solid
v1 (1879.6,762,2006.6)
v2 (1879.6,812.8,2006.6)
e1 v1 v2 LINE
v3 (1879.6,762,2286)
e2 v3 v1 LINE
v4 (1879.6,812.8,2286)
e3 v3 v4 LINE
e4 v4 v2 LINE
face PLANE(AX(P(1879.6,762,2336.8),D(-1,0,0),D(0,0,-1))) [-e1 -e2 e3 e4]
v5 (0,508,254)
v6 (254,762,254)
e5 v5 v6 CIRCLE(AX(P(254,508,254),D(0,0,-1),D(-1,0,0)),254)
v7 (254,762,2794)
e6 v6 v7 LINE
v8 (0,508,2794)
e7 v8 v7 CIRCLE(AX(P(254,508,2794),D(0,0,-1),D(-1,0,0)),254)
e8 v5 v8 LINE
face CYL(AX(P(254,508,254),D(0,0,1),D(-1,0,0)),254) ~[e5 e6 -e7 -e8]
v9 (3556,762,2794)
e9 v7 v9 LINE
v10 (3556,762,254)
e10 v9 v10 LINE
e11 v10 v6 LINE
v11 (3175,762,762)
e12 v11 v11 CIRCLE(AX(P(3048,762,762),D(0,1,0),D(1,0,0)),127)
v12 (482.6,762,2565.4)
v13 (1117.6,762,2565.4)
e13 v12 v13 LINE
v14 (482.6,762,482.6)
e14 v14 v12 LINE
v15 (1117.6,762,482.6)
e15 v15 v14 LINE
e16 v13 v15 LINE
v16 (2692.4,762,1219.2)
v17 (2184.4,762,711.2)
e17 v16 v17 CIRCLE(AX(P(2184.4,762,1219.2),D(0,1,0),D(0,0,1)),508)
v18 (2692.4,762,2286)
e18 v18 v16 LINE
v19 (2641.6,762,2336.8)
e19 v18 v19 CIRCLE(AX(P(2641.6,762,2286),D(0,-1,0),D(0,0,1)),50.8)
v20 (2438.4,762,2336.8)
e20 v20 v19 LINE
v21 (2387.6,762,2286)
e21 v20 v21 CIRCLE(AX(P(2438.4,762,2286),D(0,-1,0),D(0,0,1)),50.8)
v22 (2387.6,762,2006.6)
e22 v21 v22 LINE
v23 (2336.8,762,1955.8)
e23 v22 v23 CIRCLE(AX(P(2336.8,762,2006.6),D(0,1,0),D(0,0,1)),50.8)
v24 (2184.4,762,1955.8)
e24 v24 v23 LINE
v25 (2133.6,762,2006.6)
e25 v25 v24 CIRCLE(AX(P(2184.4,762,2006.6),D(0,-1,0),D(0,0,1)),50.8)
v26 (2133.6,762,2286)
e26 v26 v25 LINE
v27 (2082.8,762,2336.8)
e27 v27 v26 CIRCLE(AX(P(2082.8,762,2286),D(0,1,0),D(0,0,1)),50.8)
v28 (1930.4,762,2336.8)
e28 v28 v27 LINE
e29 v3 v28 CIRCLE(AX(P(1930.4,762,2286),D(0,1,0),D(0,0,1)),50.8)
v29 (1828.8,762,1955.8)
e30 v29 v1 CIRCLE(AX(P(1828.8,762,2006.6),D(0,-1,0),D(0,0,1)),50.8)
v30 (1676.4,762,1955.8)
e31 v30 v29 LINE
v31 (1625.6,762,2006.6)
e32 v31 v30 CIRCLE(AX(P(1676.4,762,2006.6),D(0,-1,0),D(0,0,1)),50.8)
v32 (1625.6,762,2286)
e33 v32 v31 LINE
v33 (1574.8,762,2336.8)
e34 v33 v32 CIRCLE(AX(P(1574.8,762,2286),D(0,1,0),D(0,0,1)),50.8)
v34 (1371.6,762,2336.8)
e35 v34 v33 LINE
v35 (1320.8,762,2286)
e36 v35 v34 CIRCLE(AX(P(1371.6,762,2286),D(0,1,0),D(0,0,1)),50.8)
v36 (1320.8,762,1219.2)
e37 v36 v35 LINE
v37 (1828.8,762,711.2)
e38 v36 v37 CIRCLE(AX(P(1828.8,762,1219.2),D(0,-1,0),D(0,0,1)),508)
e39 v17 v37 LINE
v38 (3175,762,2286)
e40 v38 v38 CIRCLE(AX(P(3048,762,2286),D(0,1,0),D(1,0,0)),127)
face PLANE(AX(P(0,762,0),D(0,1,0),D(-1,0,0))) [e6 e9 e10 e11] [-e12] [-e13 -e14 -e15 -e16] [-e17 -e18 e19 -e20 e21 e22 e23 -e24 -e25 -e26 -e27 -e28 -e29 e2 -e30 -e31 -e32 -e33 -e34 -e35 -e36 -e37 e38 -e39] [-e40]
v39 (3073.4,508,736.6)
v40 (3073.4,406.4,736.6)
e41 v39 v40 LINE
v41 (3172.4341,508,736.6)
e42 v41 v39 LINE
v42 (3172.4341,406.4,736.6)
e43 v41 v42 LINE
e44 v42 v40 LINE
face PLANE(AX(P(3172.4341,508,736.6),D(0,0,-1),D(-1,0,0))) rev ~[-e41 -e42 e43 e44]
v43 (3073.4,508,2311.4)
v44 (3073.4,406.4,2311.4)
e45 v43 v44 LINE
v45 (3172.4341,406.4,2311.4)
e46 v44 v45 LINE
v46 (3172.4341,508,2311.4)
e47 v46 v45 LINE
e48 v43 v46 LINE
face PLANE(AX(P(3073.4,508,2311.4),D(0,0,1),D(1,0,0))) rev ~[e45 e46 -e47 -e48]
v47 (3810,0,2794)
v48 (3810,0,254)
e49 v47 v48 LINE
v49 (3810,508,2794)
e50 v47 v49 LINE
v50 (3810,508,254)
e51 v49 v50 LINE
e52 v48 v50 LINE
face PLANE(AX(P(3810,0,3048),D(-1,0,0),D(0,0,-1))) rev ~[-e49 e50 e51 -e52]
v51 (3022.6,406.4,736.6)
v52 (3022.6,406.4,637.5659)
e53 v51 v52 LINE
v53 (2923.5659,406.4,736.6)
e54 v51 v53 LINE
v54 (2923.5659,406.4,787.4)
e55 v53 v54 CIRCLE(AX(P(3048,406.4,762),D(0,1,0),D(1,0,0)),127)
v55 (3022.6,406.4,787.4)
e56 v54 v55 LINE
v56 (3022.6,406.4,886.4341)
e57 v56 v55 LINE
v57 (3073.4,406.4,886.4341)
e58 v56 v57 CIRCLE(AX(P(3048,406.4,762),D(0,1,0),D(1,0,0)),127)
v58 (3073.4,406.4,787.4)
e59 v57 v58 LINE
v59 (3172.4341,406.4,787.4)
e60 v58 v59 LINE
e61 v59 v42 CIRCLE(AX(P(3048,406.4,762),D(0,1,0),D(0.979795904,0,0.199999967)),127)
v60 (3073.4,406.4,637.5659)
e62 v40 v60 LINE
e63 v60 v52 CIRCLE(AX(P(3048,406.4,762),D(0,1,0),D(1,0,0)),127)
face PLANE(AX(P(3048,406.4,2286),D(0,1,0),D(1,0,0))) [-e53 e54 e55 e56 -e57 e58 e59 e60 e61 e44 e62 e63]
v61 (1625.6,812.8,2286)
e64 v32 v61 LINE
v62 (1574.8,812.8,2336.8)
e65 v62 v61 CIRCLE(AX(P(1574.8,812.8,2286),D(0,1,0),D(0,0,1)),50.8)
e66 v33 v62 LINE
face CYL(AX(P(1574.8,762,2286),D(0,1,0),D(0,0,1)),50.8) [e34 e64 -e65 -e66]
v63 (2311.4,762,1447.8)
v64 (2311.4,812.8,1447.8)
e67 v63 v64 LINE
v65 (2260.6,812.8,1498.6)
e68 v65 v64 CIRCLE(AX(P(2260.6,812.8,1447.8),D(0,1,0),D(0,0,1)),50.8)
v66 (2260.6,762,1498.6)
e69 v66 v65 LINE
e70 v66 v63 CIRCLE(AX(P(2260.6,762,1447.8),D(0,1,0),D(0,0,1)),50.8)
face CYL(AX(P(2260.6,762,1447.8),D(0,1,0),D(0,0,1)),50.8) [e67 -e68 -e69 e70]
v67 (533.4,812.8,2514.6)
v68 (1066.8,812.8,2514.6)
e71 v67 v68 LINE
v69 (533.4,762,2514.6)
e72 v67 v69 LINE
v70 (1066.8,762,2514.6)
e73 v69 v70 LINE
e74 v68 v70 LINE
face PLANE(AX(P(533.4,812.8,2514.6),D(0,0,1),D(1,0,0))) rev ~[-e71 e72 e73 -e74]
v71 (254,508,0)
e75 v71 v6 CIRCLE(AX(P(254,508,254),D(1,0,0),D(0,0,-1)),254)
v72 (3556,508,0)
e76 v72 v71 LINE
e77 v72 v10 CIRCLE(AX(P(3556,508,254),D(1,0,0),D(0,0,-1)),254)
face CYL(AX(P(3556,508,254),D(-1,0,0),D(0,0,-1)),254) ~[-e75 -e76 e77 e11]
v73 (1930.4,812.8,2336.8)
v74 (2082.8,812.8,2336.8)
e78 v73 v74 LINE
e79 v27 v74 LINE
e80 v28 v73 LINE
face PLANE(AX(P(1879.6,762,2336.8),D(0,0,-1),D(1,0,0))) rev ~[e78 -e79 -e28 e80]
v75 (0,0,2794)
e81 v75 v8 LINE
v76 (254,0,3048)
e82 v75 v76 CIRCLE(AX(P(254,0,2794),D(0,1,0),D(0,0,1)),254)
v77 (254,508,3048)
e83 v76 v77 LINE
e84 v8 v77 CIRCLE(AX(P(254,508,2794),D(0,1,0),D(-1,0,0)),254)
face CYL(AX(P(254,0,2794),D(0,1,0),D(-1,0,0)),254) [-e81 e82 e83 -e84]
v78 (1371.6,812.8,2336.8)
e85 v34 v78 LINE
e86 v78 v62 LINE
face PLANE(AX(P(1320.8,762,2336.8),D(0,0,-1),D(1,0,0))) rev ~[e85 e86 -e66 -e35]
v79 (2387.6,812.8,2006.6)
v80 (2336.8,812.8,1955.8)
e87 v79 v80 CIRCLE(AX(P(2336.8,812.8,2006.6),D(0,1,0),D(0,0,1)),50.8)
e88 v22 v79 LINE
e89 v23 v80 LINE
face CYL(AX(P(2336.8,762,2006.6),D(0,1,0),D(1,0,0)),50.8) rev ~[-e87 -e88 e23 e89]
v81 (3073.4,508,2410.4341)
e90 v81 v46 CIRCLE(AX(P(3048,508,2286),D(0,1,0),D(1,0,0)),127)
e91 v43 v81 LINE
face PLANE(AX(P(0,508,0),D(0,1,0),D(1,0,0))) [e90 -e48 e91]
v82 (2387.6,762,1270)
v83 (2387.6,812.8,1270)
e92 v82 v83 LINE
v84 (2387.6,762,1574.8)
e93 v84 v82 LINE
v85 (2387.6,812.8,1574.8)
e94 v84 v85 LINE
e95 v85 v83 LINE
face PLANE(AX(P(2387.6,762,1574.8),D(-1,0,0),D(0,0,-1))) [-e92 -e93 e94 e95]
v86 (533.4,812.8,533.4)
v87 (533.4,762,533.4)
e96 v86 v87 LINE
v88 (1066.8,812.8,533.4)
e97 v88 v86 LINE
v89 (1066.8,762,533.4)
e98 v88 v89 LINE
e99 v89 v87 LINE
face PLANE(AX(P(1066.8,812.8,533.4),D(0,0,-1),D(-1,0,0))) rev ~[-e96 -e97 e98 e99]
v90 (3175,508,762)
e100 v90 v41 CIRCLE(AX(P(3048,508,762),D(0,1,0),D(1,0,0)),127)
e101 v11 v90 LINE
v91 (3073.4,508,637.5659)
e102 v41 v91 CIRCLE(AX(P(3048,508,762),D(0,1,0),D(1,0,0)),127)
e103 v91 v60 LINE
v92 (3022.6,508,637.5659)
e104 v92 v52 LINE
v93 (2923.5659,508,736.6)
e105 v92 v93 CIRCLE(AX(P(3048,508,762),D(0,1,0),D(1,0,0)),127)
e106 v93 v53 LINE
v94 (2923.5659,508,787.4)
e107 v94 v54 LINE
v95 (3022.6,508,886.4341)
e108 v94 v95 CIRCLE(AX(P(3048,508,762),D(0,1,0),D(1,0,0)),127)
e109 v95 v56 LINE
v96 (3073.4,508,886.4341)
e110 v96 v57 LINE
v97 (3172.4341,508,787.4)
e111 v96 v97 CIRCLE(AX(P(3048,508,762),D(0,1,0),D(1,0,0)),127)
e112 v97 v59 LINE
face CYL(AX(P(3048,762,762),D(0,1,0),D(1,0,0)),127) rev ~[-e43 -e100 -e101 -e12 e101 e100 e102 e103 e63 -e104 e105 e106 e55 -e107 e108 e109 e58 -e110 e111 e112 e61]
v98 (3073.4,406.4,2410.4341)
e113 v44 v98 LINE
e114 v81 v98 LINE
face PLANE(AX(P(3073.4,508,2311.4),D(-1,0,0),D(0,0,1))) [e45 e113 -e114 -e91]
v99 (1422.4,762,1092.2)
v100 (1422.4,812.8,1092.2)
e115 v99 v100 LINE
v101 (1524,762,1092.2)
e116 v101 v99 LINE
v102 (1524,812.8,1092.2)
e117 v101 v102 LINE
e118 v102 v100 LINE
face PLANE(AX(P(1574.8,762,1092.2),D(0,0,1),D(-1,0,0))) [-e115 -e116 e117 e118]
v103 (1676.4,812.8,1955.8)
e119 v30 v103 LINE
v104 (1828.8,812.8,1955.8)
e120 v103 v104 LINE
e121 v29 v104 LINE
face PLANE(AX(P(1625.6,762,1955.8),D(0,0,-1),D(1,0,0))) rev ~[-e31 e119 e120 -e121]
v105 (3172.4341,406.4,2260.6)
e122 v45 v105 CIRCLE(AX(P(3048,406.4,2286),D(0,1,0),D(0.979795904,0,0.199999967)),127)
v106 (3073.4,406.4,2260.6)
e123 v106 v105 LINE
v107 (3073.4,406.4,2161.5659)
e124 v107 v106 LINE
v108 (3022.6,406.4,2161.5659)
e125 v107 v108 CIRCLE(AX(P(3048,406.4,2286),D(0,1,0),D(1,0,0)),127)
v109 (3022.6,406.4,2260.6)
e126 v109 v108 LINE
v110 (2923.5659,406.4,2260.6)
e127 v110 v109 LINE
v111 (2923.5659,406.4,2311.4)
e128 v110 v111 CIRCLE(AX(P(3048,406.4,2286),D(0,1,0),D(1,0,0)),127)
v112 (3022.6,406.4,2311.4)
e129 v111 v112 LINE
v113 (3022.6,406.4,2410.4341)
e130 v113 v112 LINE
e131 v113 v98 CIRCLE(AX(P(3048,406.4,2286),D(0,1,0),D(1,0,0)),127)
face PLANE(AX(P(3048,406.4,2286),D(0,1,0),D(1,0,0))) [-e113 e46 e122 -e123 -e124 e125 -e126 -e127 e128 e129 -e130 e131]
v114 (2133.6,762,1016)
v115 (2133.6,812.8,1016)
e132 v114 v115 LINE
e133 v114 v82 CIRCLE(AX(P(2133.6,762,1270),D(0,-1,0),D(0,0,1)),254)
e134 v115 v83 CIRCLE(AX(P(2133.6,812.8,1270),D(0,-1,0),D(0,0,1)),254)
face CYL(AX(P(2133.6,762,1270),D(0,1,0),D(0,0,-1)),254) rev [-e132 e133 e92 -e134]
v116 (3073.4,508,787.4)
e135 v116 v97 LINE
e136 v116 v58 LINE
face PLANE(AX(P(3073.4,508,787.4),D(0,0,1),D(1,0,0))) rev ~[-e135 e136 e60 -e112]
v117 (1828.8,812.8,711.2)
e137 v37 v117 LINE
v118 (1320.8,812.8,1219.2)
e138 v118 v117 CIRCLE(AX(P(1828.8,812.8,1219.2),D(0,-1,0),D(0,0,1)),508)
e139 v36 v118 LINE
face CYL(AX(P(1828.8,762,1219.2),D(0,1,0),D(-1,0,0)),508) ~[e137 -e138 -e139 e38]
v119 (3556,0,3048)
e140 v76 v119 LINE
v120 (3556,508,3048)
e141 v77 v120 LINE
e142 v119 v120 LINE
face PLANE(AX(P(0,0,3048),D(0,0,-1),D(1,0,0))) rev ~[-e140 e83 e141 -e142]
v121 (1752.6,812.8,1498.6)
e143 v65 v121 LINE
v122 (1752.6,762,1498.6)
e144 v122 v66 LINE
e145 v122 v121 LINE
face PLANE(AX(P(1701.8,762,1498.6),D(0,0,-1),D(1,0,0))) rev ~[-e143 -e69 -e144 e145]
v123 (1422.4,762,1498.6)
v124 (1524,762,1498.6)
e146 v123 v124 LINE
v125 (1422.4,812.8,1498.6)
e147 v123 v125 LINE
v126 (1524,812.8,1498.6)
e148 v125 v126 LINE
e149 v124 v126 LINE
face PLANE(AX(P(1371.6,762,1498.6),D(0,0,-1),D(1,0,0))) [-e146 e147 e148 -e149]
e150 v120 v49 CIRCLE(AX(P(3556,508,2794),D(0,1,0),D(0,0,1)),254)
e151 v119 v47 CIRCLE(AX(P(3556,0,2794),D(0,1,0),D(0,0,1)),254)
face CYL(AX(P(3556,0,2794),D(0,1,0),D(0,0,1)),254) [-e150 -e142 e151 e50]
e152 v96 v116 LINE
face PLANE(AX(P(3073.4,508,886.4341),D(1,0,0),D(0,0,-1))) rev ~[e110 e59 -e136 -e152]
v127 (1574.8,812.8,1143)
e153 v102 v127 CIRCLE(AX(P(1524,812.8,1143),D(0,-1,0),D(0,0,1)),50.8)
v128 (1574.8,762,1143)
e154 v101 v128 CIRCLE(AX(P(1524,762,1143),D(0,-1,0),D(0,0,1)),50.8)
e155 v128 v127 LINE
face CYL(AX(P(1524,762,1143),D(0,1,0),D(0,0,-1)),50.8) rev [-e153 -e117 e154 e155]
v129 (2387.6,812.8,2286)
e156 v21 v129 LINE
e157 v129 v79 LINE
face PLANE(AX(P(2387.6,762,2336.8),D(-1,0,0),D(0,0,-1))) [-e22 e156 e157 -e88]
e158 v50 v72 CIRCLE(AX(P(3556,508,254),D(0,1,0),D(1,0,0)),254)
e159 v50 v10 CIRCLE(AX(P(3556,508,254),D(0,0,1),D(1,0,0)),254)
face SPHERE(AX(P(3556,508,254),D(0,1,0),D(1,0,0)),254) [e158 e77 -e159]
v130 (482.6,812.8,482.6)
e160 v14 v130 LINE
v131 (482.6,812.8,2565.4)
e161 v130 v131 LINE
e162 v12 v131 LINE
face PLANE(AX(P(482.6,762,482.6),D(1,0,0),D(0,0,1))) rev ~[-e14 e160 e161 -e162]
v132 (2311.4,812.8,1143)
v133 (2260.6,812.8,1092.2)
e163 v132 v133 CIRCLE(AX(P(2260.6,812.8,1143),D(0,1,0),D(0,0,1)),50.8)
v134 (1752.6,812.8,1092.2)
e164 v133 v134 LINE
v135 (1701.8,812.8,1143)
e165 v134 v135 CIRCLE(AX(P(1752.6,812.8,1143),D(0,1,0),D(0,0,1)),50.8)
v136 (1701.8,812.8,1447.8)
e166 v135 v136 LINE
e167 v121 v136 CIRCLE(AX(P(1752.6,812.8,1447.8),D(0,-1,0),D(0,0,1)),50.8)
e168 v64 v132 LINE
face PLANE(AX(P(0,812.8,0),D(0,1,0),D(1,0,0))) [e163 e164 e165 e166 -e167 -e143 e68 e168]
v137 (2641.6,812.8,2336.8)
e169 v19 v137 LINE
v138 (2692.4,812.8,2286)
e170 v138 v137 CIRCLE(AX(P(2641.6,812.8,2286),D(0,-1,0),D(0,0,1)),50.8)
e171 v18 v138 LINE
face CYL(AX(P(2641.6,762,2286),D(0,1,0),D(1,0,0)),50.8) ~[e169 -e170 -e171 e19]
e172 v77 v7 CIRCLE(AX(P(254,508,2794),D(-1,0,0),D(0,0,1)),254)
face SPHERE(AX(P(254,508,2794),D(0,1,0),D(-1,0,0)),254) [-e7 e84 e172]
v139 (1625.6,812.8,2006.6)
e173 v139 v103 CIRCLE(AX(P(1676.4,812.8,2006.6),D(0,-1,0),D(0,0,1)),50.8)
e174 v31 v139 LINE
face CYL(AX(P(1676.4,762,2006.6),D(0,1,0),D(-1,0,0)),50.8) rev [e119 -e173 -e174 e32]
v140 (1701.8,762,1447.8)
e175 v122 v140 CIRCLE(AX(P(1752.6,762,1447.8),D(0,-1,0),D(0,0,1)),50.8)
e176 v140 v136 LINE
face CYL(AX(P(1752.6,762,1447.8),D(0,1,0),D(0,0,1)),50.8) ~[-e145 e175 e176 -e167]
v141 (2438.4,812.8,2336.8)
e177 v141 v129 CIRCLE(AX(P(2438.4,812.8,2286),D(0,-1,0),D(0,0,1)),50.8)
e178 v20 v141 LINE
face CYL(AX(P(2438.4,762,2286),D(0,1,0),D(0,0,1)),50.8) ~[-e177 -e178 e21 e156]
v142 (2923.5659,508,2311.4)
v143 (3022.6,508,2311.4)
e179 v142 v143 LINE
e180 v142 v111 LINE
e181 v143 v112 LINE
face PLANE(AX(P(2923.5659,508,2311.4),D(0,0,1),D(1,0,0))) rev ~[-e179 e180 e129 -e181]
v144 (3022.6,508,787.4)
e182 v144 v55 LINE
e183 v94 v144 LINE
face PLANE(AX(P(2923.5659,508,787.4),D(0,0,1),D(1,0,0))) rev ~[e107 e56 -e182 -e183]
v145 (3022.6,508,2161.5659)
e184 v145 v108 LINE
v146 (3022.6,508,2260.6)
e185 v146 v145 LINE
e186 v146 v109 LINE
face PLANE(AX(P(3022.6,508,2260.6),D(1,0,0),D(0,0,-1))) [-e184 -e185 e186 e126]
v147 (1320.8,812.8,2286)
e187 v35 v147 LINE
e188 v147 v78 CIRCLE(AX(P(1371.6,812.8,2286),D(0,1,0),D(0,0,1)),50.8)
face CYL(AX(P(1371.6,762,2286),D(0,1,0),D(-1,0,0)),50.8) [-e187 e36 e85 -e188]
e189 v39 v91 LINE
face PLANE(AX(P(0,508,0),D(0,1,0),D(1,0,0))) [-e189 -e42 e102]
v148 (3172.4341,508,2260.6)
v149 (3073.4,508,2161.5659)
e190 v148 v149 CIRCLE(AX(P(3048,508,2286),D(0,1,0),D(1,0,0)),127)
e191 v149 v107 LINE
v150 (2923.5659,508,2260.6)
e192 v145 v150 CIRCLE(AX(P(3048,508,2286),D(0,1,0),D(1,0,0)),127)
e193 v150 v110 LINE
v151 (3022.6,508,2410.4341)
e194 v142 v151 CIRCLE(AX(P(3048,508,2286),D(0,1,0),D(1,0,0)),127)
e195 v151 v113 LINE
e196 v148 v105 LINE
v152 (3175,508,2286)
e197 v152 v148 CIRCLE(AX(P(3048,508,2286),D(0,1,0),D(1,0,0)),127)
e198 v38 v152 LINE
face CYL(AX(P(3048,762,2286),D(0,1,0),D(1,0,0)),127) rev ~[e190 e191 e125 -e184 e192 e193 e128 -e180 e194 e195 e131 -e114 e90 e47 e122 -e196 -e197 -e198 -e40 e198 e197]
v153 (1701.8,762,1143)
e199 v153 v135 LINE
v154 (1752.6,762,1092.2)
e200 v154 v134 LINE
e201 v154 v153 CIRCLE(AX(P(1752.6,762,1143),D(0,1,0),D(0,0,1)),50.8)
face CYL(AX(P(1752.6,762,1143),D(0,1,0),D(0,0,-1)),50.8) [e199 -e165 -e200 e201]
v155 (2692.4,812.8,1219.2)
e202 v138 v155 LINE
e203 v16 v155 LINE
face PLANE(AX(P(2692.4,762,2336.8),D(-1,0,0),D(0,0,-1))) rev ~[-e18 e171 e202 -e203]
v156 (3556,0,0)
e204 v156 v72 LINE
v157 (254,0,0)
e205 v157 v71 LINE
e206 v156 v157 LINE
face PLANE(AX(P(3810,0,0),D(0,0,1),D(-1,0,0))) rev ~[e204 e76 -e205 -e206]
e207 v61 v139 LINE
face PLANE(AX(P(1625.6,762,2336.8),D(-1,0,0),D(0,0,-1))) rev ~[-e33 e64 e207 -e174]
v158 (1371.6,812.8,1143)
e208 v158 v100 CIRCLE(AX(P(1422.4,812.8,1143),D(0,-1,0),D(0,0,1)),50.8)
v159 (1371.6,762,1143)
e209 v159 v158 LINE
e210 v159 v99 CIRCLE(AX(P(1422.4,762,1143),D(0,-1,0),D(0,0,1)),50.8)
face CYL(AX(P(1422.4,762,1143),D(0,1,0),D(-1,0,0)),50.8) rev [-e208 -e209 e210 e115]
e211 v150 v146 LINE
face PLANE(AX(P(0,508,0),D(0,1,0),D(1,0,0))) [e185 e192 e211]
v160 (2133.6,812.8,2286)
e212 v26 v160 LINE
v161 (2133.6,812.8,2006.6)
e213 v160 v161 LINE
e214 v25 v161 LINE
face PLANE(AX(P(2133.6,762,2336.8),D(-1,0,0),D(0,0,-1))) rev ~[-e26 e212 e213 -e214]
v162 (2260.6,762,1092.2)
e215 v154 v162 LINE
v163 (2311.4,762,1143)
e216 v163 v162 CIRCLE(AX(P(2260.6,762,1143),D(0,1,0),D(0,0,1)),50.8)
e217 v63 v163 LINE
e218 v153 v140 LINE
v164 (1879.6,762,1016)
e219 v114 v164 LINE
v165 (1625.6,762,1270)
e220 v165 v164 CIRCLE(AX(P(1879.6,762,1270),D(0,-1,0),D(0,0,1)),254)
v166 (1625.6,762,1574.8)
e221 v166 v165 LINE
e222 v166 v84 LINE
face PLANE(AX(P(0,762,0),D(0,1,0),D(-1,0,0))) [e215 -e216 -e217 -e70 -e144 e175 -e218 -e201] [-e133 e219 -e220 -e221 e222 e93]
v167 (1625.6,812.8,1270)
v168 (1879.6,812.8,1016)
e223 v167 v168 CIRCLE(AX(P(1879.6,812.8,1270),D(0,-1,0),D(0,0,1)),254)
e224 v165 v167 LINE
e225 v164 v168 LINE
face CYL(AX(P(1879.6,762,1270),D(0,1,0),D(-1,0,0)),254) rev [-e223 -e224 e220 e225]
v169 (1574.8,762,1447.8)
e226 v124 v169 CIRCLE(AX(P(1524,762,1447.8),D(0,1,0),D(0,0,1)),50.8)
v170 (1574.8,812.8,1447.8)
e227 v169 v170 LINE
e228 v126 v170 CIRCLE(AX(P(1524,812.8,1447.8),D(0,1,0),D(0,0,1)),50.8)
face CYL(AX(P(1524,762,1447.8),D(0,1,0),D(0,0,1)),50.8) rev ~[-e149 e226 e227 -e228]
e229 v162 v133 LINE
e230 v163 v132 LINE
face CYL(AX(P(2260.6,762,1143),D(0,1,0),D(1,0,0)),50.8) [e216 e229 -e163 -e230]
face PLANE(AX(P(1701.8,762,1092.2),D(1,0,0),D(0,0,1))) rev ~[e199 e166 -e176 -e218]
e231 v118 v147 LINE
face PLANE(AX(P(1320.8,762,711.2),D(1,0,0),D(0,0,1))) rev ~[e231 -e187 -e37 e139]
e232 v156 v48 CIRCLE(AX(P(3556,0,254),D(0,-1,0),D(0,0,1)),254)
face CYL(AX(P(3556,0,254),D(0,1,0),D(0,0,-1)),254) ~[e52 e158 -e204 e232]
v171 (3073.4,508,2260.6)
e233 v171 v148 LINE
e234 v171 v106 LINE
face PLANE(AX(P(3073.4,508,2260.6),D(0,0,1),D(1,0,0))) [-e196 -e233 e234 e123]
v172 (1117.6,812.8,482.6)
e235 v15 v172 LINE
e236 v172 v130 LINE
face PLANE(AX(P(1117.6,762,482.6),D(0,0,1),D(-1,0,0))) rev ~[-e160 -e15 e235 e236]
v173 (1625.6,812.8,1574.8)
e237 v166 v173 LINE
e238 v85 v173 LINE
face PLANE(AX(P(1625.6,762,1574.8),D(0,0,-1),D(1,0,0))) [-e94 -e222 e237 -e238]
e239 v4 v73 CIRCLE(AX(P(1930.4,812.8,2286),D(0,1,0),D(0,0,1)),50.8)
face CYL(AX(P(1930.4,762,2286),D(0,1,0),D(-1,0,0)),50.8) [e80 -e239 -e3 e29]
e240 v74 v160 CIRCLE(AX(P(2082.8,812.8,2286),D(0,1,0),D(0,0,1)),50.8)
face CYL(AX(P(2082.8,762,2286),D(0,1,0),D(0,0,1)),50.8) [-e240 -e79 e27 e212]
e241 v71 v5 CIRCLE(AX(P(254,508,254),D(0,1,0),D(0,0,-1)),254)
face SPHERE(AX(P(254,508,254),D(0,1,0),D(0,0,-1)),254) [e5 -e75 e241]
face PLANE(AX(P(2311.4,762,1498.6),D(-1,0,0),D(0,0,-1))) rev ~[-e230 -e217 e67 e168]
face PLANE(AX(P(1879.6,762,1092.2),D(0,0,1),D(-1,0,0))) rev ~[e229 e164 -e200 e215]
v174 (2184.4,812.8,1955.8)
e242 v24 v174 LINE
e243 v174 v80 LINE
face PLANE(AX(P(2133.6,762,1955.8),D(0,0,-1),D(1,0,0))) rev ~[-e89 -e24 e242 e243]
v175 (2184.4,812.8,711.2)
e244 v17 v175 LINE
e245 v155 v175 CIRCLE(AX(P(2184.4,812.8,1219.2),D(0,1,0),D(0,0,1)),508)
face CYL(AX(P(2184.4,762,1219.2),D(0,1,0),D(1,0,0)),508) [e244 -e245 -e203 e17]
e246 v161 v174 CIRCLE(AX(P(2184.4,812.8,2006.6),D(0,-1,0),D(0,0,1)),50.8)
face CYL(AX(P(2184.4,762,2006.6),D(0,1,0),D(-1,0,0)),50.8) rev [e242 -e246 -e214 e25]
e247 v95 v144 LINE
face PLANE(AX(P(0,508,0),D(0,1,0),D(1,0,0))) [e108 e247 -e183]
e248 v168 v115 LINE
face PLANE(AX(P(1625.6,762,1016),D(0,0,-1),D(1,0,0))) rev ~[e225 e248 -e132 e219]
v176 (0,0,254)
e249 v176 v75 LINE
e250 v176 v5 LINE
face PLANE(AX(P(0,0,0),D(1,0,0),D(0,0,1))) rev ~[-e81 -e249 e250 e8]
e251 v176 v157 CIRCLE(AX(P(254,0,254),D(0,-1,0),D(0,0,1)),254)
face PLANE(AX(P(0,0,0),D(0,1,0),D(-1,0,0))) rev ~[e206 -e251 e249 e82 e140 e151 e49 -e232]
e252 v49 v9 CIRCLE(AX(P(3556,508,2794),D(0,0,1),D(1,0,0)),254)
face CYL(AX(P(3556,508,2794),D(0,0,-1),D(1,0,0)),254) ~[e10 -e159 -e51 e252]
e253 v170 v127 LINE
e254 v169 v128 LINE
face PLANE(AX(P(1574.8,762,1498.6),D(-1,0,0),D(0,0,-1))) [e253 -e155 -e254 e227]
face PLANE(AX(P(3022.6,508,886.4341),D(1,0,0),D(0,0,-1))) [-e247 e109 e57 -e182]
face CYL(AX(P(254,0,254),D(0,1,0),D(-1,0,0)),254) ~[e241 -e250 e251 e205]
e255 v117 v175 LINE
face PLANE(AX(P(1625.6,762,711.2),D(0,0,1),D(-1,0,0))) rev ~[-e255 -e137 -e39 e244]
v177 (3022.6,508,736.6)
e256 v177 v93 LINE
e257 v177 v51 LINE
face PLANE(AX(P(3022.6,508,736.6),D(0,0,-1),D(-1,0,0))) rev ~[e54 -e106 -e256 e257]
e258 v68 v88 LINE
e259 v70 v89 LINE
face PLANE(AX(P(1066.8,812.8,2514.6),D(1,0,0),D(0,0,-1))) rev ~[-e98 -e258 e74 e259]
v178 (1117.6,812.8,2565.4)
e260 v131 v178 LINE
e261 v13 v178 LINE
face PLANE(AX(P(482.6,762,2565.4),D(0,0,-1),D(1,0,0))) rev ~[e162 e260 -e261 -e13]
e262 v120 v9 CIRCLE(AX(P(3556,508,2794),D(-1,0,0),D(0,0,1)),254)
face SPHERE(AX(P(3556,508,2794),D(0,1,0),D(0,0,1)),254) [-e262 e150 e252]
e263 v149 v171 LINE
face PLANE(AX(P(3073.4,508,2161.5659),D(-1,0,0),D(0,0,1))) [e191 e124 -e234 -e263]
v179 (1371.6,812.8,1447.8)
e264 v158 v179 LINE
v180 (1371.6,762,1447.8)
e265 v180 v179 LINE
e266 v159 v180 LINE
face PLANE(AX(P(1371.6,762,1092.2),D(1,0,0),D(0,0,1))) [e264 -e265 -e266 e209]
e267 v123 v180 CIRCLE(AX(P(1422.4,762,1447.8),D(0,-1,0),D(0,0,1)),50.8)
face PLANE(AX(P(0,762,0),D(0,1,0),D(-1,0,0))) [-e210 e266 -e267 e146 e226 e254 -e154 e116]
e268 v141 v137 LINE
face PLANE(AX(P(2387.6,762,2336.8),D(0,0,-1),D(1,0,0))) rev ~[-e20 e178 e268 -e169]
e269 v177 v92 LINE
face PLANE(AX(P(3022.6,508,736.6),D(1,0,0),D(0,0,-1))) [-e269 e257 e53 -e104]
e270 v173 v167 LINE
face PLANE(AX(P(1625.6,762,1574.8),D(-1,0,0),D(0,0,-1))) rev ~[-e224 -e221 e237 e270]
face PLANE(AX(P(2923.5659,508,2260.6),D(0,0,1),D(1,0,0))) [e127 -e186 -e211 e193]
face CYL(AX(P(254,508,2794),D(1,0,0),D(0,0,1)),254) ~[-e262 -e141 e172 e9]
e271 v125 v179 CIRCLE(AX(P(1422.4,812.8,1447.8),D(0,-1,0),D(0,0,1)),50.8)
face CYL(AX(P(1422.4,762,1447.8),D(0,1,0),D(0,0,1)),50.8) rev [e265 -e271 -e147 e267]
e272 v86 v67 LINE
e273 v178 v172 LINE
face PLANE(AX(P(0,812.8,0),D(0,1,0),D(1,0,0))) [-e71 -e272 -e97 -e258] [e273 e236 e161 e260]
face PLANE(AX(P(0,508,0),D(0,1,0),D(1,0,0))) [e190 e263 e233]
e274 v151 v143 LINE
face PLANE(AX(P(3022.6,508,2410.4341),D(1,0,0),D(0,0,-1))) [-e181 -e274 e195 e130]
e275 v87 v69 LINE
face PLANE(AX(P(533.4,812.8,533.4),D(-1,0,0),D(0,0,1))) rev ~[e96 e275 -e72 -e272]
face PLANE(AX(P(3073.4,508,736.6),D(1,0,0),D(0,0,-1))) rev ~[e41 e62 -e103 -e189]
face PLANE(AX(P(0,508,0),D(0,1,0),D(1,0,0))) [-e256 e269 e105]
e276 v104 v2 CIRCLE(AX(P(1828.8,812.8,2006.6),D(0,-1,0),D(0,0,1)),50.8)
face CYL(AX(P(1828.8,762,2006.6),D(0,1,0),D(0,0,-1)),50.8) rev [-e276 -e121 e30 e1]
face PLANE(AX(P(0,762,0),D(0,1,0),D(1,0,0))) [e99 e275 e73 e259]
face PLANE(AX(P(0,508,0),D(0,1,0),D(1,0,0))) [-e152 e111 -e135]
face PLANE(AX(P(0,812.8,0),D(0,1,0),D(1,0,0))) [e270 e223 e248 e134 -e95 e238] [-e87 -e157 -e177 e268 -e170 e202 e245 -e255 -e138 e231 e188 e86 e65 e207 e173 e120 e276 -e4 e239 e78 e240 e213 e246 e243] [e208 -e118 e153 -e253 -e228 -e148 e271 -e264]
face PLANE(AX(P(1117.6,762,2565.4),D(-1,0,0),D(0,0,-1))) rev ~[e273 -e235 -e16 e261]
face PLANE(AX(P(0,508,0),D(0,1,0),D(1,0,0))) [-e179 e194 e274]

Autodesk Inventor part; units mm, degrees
ref_plane "YZ Plane" through (0, 0, 0) normal (1, 0, 0) x (0, 1, 0)
ref_plane "XZ Plane" through (0, 0, 0) normal (0, 1, 0) x (-1, 0, 0)
ref_plane "XY Plane" through (0, 0, 0) normal (0, 0, 1) x (1, 0, 0)
sketch "Sketch1" plane through (0, 0, 0) normal (0, 1, 0) x (-1, 0, 0)
  line L0 (0, 3048) -> (-3810, 3048)
  line L1 (-3810, 3048) -> (-3810, 0)
  line L2 (-3810, 0) -> (0, 0)
  line L3 (0, 0) -> (0, 3048)
  dimension "d0" = 3810
  dimension "d1" = 3048
extrude "Extrusion1" add sketch "Sketch1" along normal blind 762
sketch "Sketch2" plane through (0, 762, 0) normal (0, 1, 0) x (1, 0, 0)
  line L0 (482.6, -2565.4) -> (1117.6, -2565.4)
  line L1 (1117.6, -2565.4) -> (1117.6, -482.6)
  line L2 (1117.6, -482.6) -> (482.6, -482.6)
  line L3 (482.6, -482.6) -> (482.6, -2565.4)
  line L4 (0, -3048) -> (3810, -3048) projected
  line L5 (0, 0) -> (0, -3048) projected
  dimension "d5" = 2082.8
  dimension "d6" = 482.6
  dimension "d7" = 482.6
  dimension "d8" = 635
extrude "Extrusion2" add sketch "Sketch2" along normal blind 50.8
sketch "Sketch3" plane through (0, 812.8, 0) normal (0, 1, 0) x (1, 0, 0)
  point P0 (0, 0)
sketch "Sketch4" plane through (0, 812.8, 0) normal (0, 1, 0) x (1, 0, 0)
  line L0 (533.4, -2514.6) -> (1066.8, -2514.6)
  line L1 (1066.8, -2514.6) -> (1066.8, -533.4)
  line L2 (1066.8, -533.4) -> (533.4, -533.4)
  line L3 (533.4, -533.4) -> (533.4, -2514.6)
  line L4 (482.6, -482.6) -> (482.6, -2565.4) projected
  line L5 (482.6, -2565.4) -> (1117.6, -2565.4) projected
  line L6 (1117.6, -2565.4) -> (1117.6, -482.6) projected
  line L7 (1117.6, -482.6) -> (482.6, -482.6) projected
  point P0 (0, 0)
  dimension "d11" = 50.8
  dimension "d12" = 50.8
  dimension "d13" = 50.8
  dimension "d14" = 50.8
extrude "Extrusion3" cut sketch "Sketch4" against normal blind 50.8 contours L3 L2 L1 L0
fillet "Fillet1" radius 254 4 edges at (0, 381, 3048) (3810, 381, 3048) (3810, 381, 0) (0, 381, 0)
fillet "Fillet2" radius 254 8 edges at (0, 762, 1524) (74.3949, 762, 2973.6051) (1905, 762, 3048) (3735.6051, 762, 2973.6051) (3810, 762, 1524) (3735.6051, 762, 74.3949) (1905, 762, 0) (74.3949, 762, 74.3949)
sketch "Sketch5" plane through (0, 762, 0) normal (0, 1, 0) x (1, 0, 0)
  circle A0 centre (3048, -2286) radius 127
  circle A1 centre (3048, -762) radius 127
  line L0 (3556, -254) -> (3556, -2794) projected
  line L1 (254, -254) -> (3556, -254) projected
  line L2 (3556, -2794) -> (254, -2794) projected
  point P0 (0, 0)
  dimension "d19" = 254
  dimension "d20" = 508
  dimension "d21" = 508
  dimension "d22" = 508
extrude "Extrusion4" cut sketch "Sketch5" against normal blind 254
sketch "Sketch6" plane through (3048, 508, 2286) normal (0, 1, 0) x (1, 0, 0)
  circle A0 centre (0, 0) radius 127 projected
  circle A1 centre (0, 1524) radius 127 projected
  line L0 (-124.4341, 25.4) -> (124.4341, 25.4)
  line L1 (-124.4341, -25.4) -> (124.4341, -25.4)
  line L2 (-25.4, -124.4341) -> (-25.4, 124.4341)
  line L3 (25.4, 124.4341) -> (25.4, -124.4341)
  circle A2 centre (0, 0) radius 127 projected
  line L4 (-124.4341, 1498.6) -> (124.4341, 1498.6)
  line L5 (124.4341, 1549.4) -> (-124.4341, 1549.4)
  line L6 (25.4, 1399.5659) -> (25.4, 1648.4341)
  line L7 (-25.4, 1399.5659) -> (-25.4, 1648.4341)
  point P0 (-3048, 2286)
  point P1 (-25.4, 1498.6)
  point P2 (25.4, 1498.6)
  point P3 (25.4, 1549.4)
  point P4 (-25.4, 1549.4)
  point P5 (25.4, -25.4)
  point P6 (25.4, 25.4)
  point P7 (-25.4, 25.4)
  point P8 (-25.4, -25.4)
  dimension "d25" = 50.8
  dimension "d26" = 50.8
  dimension "d27" = 25.4
  dimension "d28" = 25.4
  dimension "d29" = 25.4
  dimension "d30" = 25.4
  dimension "d31" = 50.8
  dimension "d32" = 50.8
extrude "Extrusion5" cut sketch "Sketch6" against normal blind 101.6 contours A0 L1 L3 L0 | L3 L0 L2 A0 | L3 L1 L2 L0 | A0 L2 L1 L3 | L2 L1 A0 L0 | A1 L4 L6 L5 | L6 L5 L7 A1 | L6 L4 L7 L5 | A1 L7 L4 L6 | L7 L4 A1 L5
sketch "Sketch7" plane through (0, 762, 0) normal (0, 1, 0) x (1, 0, 0)
  circle A0 centre (3048, -2286) radius 127 projected
  circle A1 centre (3048, -762) radius 127 projected
  point P0 (0, 0)
sketch "Sketch9" plane through (0, 762, 0) normal (0, 1, 0) x (1, 0, 0)
  line L0 (1320.8, -2336.8) -> (2692.4, -2336.8)
  line L1 (2692.4, -2336.8) -> (2692.4, -711.2)
  line L2 (2692.4, -711.2) -> (1320.8, -711.2)
  line L3 (1320.8, -711.2) -> (1320.8, -2336.8)
  line L4 (254, -3048) -> (3556, -3048) projected
  line L5 (1117.6, -2565.4) -> (1117.6, -482.6) projected
  line L6 (1625.6, -2336.8) -> (1625.6, -711.2)
  line L7 (2133.6, -2336.8) -> (2133.6, -711.2)
  line L8 (1879.6, -2336.8) -> (1879.6, -711.2)
  line L9 (2387.6, -2336.8) -> (2387.6, -711.2)
  line L10 (1625.6, -1955.8) -> (1879.6, -1955.8)
  line L11 (2133.6, -1955.8) -> (2387.6, -1955.8)
  line L12 (1625.6, -1016) -> (2387.6, -1016)
  line L13 (1625.6, -1574.8) -> (2387.6, -1574.8)
  line L14 (1701.8, -1498.6) -> (2311.4, -1498.6)
  line L15 (2311.4, -1498.6) -> (2311.4, -1092.2)
  line L16 (2311.4, -1092.2) -> (1701.8, -1092.2)
  line L17 (1701.8, -1092.2) -> (1701.8, -1498.6)
  line L18 (1371.6, -1498.6) -> (1574.8, -1498.6)
  line L19 (1574.8, -1498.6) -> (1574.8, -1092.2)
  line L20 (1574.8, -1092.2) -> (1371.6, -1092.2)
  line L21 (1371.6, -1092.2) -> (1371.6, -1498.6)
  point P0 (0, 0)
  point P1 (2260.6, -1955.8)
  dimension "d35" = 1625.6
  dimension "d36" = 1371.6
  dimension "d37" = 711.2
  dimension "d38" = 203.2
  dimension "d39" = 304.8
  dimension "d40" = 304.8
  dimension "d41" = 254
  dimension "d42" = 254
  dimension "d43" = 381
  dimension "d44" = 381
  dimension "d45" = 304.8
  dimension "d46" = 381
  dimension "d47" = 76.2
  dimension "d48" = 76.2
  dimension "d49" = 76.2
  dimension "d50" = 76.2
  dimension "d51" = 50.8
  dimension "d52" = 50.8
extrude "Extrusion6" add sketch "Sketch9" along normal blind 50.8 contours L3 L2 L6 L0 | L8 L13 L7 L0 | L6 L13 L8 L10 | L2 L8 L12 L6 | L2 L7 L12 L8 | L9 L2 L1 L0 | L7 L13 L9 L11 | L2 L9 L12 L7 | L14 L17 L16 L8 | L8 L16 L7 L14 | L7 L16 L15 L14
fillet "Fillet3" radius 508 2 edges at (2692.4, 787.4, 711.2) (1320.8, 787.4, 711.2)
fillet "Fillet4" radius 254 2 edges at (2387.6, 787.4, 1016) (1625.6, 787.4, 1016)
fillet "Fillet5" radius 50.8 18 edges at (1701.8, 787.4, 1092.2) (2311.4, 787.4, 1092.2) (2311.4, 787.4, 1498.6) (1701.8, 787.4, 1498.6) (1625.6, 787.4, 1955.8) (1879.6, 787.4, 1955.8) (1879.6, 787.4, 2336.8) (1320.8, 787.4, 2336.8) (1625.6, 787.4, 2336.8) (2133.6, 787.4, 2336.8) (2133.6, 787.4, 1955.8) (2387.6, 787.4, 1955.8) (2387.6, 787.4, 2336.8) (2692.4, 787.4, 2336.8) (1574.8, 787.4, 1092.2) (1371.6, 787.4, 1092.2) (1371.6, 787.4, 1498.6) (1574.8, 787.4, 1498.6)
sketch "Sketch10" plane through (254, 0, 3048) normal (0, 0, 1) x (1, 0, 0)
  point P0 (-254, 0)
equation "\"BendRadius\" = Thickness"
equation "\"BendReliefWidth\" = Thickness"
equation "\"BendReliefDepth\" = 0.5 * Thickness"
equation "\"CornerReliefSize\" = 4 * Thickness"
equation "\"MinimumRemnant\" = 2 * Thickness"
equation "\"TransitionRadius\" = BendRadius"
equation "\"JacobiRadiusSize\" = Thickness"
equation "\"GapSize\" = Thickness"
equation "\"Thickness\" = 3.048"
